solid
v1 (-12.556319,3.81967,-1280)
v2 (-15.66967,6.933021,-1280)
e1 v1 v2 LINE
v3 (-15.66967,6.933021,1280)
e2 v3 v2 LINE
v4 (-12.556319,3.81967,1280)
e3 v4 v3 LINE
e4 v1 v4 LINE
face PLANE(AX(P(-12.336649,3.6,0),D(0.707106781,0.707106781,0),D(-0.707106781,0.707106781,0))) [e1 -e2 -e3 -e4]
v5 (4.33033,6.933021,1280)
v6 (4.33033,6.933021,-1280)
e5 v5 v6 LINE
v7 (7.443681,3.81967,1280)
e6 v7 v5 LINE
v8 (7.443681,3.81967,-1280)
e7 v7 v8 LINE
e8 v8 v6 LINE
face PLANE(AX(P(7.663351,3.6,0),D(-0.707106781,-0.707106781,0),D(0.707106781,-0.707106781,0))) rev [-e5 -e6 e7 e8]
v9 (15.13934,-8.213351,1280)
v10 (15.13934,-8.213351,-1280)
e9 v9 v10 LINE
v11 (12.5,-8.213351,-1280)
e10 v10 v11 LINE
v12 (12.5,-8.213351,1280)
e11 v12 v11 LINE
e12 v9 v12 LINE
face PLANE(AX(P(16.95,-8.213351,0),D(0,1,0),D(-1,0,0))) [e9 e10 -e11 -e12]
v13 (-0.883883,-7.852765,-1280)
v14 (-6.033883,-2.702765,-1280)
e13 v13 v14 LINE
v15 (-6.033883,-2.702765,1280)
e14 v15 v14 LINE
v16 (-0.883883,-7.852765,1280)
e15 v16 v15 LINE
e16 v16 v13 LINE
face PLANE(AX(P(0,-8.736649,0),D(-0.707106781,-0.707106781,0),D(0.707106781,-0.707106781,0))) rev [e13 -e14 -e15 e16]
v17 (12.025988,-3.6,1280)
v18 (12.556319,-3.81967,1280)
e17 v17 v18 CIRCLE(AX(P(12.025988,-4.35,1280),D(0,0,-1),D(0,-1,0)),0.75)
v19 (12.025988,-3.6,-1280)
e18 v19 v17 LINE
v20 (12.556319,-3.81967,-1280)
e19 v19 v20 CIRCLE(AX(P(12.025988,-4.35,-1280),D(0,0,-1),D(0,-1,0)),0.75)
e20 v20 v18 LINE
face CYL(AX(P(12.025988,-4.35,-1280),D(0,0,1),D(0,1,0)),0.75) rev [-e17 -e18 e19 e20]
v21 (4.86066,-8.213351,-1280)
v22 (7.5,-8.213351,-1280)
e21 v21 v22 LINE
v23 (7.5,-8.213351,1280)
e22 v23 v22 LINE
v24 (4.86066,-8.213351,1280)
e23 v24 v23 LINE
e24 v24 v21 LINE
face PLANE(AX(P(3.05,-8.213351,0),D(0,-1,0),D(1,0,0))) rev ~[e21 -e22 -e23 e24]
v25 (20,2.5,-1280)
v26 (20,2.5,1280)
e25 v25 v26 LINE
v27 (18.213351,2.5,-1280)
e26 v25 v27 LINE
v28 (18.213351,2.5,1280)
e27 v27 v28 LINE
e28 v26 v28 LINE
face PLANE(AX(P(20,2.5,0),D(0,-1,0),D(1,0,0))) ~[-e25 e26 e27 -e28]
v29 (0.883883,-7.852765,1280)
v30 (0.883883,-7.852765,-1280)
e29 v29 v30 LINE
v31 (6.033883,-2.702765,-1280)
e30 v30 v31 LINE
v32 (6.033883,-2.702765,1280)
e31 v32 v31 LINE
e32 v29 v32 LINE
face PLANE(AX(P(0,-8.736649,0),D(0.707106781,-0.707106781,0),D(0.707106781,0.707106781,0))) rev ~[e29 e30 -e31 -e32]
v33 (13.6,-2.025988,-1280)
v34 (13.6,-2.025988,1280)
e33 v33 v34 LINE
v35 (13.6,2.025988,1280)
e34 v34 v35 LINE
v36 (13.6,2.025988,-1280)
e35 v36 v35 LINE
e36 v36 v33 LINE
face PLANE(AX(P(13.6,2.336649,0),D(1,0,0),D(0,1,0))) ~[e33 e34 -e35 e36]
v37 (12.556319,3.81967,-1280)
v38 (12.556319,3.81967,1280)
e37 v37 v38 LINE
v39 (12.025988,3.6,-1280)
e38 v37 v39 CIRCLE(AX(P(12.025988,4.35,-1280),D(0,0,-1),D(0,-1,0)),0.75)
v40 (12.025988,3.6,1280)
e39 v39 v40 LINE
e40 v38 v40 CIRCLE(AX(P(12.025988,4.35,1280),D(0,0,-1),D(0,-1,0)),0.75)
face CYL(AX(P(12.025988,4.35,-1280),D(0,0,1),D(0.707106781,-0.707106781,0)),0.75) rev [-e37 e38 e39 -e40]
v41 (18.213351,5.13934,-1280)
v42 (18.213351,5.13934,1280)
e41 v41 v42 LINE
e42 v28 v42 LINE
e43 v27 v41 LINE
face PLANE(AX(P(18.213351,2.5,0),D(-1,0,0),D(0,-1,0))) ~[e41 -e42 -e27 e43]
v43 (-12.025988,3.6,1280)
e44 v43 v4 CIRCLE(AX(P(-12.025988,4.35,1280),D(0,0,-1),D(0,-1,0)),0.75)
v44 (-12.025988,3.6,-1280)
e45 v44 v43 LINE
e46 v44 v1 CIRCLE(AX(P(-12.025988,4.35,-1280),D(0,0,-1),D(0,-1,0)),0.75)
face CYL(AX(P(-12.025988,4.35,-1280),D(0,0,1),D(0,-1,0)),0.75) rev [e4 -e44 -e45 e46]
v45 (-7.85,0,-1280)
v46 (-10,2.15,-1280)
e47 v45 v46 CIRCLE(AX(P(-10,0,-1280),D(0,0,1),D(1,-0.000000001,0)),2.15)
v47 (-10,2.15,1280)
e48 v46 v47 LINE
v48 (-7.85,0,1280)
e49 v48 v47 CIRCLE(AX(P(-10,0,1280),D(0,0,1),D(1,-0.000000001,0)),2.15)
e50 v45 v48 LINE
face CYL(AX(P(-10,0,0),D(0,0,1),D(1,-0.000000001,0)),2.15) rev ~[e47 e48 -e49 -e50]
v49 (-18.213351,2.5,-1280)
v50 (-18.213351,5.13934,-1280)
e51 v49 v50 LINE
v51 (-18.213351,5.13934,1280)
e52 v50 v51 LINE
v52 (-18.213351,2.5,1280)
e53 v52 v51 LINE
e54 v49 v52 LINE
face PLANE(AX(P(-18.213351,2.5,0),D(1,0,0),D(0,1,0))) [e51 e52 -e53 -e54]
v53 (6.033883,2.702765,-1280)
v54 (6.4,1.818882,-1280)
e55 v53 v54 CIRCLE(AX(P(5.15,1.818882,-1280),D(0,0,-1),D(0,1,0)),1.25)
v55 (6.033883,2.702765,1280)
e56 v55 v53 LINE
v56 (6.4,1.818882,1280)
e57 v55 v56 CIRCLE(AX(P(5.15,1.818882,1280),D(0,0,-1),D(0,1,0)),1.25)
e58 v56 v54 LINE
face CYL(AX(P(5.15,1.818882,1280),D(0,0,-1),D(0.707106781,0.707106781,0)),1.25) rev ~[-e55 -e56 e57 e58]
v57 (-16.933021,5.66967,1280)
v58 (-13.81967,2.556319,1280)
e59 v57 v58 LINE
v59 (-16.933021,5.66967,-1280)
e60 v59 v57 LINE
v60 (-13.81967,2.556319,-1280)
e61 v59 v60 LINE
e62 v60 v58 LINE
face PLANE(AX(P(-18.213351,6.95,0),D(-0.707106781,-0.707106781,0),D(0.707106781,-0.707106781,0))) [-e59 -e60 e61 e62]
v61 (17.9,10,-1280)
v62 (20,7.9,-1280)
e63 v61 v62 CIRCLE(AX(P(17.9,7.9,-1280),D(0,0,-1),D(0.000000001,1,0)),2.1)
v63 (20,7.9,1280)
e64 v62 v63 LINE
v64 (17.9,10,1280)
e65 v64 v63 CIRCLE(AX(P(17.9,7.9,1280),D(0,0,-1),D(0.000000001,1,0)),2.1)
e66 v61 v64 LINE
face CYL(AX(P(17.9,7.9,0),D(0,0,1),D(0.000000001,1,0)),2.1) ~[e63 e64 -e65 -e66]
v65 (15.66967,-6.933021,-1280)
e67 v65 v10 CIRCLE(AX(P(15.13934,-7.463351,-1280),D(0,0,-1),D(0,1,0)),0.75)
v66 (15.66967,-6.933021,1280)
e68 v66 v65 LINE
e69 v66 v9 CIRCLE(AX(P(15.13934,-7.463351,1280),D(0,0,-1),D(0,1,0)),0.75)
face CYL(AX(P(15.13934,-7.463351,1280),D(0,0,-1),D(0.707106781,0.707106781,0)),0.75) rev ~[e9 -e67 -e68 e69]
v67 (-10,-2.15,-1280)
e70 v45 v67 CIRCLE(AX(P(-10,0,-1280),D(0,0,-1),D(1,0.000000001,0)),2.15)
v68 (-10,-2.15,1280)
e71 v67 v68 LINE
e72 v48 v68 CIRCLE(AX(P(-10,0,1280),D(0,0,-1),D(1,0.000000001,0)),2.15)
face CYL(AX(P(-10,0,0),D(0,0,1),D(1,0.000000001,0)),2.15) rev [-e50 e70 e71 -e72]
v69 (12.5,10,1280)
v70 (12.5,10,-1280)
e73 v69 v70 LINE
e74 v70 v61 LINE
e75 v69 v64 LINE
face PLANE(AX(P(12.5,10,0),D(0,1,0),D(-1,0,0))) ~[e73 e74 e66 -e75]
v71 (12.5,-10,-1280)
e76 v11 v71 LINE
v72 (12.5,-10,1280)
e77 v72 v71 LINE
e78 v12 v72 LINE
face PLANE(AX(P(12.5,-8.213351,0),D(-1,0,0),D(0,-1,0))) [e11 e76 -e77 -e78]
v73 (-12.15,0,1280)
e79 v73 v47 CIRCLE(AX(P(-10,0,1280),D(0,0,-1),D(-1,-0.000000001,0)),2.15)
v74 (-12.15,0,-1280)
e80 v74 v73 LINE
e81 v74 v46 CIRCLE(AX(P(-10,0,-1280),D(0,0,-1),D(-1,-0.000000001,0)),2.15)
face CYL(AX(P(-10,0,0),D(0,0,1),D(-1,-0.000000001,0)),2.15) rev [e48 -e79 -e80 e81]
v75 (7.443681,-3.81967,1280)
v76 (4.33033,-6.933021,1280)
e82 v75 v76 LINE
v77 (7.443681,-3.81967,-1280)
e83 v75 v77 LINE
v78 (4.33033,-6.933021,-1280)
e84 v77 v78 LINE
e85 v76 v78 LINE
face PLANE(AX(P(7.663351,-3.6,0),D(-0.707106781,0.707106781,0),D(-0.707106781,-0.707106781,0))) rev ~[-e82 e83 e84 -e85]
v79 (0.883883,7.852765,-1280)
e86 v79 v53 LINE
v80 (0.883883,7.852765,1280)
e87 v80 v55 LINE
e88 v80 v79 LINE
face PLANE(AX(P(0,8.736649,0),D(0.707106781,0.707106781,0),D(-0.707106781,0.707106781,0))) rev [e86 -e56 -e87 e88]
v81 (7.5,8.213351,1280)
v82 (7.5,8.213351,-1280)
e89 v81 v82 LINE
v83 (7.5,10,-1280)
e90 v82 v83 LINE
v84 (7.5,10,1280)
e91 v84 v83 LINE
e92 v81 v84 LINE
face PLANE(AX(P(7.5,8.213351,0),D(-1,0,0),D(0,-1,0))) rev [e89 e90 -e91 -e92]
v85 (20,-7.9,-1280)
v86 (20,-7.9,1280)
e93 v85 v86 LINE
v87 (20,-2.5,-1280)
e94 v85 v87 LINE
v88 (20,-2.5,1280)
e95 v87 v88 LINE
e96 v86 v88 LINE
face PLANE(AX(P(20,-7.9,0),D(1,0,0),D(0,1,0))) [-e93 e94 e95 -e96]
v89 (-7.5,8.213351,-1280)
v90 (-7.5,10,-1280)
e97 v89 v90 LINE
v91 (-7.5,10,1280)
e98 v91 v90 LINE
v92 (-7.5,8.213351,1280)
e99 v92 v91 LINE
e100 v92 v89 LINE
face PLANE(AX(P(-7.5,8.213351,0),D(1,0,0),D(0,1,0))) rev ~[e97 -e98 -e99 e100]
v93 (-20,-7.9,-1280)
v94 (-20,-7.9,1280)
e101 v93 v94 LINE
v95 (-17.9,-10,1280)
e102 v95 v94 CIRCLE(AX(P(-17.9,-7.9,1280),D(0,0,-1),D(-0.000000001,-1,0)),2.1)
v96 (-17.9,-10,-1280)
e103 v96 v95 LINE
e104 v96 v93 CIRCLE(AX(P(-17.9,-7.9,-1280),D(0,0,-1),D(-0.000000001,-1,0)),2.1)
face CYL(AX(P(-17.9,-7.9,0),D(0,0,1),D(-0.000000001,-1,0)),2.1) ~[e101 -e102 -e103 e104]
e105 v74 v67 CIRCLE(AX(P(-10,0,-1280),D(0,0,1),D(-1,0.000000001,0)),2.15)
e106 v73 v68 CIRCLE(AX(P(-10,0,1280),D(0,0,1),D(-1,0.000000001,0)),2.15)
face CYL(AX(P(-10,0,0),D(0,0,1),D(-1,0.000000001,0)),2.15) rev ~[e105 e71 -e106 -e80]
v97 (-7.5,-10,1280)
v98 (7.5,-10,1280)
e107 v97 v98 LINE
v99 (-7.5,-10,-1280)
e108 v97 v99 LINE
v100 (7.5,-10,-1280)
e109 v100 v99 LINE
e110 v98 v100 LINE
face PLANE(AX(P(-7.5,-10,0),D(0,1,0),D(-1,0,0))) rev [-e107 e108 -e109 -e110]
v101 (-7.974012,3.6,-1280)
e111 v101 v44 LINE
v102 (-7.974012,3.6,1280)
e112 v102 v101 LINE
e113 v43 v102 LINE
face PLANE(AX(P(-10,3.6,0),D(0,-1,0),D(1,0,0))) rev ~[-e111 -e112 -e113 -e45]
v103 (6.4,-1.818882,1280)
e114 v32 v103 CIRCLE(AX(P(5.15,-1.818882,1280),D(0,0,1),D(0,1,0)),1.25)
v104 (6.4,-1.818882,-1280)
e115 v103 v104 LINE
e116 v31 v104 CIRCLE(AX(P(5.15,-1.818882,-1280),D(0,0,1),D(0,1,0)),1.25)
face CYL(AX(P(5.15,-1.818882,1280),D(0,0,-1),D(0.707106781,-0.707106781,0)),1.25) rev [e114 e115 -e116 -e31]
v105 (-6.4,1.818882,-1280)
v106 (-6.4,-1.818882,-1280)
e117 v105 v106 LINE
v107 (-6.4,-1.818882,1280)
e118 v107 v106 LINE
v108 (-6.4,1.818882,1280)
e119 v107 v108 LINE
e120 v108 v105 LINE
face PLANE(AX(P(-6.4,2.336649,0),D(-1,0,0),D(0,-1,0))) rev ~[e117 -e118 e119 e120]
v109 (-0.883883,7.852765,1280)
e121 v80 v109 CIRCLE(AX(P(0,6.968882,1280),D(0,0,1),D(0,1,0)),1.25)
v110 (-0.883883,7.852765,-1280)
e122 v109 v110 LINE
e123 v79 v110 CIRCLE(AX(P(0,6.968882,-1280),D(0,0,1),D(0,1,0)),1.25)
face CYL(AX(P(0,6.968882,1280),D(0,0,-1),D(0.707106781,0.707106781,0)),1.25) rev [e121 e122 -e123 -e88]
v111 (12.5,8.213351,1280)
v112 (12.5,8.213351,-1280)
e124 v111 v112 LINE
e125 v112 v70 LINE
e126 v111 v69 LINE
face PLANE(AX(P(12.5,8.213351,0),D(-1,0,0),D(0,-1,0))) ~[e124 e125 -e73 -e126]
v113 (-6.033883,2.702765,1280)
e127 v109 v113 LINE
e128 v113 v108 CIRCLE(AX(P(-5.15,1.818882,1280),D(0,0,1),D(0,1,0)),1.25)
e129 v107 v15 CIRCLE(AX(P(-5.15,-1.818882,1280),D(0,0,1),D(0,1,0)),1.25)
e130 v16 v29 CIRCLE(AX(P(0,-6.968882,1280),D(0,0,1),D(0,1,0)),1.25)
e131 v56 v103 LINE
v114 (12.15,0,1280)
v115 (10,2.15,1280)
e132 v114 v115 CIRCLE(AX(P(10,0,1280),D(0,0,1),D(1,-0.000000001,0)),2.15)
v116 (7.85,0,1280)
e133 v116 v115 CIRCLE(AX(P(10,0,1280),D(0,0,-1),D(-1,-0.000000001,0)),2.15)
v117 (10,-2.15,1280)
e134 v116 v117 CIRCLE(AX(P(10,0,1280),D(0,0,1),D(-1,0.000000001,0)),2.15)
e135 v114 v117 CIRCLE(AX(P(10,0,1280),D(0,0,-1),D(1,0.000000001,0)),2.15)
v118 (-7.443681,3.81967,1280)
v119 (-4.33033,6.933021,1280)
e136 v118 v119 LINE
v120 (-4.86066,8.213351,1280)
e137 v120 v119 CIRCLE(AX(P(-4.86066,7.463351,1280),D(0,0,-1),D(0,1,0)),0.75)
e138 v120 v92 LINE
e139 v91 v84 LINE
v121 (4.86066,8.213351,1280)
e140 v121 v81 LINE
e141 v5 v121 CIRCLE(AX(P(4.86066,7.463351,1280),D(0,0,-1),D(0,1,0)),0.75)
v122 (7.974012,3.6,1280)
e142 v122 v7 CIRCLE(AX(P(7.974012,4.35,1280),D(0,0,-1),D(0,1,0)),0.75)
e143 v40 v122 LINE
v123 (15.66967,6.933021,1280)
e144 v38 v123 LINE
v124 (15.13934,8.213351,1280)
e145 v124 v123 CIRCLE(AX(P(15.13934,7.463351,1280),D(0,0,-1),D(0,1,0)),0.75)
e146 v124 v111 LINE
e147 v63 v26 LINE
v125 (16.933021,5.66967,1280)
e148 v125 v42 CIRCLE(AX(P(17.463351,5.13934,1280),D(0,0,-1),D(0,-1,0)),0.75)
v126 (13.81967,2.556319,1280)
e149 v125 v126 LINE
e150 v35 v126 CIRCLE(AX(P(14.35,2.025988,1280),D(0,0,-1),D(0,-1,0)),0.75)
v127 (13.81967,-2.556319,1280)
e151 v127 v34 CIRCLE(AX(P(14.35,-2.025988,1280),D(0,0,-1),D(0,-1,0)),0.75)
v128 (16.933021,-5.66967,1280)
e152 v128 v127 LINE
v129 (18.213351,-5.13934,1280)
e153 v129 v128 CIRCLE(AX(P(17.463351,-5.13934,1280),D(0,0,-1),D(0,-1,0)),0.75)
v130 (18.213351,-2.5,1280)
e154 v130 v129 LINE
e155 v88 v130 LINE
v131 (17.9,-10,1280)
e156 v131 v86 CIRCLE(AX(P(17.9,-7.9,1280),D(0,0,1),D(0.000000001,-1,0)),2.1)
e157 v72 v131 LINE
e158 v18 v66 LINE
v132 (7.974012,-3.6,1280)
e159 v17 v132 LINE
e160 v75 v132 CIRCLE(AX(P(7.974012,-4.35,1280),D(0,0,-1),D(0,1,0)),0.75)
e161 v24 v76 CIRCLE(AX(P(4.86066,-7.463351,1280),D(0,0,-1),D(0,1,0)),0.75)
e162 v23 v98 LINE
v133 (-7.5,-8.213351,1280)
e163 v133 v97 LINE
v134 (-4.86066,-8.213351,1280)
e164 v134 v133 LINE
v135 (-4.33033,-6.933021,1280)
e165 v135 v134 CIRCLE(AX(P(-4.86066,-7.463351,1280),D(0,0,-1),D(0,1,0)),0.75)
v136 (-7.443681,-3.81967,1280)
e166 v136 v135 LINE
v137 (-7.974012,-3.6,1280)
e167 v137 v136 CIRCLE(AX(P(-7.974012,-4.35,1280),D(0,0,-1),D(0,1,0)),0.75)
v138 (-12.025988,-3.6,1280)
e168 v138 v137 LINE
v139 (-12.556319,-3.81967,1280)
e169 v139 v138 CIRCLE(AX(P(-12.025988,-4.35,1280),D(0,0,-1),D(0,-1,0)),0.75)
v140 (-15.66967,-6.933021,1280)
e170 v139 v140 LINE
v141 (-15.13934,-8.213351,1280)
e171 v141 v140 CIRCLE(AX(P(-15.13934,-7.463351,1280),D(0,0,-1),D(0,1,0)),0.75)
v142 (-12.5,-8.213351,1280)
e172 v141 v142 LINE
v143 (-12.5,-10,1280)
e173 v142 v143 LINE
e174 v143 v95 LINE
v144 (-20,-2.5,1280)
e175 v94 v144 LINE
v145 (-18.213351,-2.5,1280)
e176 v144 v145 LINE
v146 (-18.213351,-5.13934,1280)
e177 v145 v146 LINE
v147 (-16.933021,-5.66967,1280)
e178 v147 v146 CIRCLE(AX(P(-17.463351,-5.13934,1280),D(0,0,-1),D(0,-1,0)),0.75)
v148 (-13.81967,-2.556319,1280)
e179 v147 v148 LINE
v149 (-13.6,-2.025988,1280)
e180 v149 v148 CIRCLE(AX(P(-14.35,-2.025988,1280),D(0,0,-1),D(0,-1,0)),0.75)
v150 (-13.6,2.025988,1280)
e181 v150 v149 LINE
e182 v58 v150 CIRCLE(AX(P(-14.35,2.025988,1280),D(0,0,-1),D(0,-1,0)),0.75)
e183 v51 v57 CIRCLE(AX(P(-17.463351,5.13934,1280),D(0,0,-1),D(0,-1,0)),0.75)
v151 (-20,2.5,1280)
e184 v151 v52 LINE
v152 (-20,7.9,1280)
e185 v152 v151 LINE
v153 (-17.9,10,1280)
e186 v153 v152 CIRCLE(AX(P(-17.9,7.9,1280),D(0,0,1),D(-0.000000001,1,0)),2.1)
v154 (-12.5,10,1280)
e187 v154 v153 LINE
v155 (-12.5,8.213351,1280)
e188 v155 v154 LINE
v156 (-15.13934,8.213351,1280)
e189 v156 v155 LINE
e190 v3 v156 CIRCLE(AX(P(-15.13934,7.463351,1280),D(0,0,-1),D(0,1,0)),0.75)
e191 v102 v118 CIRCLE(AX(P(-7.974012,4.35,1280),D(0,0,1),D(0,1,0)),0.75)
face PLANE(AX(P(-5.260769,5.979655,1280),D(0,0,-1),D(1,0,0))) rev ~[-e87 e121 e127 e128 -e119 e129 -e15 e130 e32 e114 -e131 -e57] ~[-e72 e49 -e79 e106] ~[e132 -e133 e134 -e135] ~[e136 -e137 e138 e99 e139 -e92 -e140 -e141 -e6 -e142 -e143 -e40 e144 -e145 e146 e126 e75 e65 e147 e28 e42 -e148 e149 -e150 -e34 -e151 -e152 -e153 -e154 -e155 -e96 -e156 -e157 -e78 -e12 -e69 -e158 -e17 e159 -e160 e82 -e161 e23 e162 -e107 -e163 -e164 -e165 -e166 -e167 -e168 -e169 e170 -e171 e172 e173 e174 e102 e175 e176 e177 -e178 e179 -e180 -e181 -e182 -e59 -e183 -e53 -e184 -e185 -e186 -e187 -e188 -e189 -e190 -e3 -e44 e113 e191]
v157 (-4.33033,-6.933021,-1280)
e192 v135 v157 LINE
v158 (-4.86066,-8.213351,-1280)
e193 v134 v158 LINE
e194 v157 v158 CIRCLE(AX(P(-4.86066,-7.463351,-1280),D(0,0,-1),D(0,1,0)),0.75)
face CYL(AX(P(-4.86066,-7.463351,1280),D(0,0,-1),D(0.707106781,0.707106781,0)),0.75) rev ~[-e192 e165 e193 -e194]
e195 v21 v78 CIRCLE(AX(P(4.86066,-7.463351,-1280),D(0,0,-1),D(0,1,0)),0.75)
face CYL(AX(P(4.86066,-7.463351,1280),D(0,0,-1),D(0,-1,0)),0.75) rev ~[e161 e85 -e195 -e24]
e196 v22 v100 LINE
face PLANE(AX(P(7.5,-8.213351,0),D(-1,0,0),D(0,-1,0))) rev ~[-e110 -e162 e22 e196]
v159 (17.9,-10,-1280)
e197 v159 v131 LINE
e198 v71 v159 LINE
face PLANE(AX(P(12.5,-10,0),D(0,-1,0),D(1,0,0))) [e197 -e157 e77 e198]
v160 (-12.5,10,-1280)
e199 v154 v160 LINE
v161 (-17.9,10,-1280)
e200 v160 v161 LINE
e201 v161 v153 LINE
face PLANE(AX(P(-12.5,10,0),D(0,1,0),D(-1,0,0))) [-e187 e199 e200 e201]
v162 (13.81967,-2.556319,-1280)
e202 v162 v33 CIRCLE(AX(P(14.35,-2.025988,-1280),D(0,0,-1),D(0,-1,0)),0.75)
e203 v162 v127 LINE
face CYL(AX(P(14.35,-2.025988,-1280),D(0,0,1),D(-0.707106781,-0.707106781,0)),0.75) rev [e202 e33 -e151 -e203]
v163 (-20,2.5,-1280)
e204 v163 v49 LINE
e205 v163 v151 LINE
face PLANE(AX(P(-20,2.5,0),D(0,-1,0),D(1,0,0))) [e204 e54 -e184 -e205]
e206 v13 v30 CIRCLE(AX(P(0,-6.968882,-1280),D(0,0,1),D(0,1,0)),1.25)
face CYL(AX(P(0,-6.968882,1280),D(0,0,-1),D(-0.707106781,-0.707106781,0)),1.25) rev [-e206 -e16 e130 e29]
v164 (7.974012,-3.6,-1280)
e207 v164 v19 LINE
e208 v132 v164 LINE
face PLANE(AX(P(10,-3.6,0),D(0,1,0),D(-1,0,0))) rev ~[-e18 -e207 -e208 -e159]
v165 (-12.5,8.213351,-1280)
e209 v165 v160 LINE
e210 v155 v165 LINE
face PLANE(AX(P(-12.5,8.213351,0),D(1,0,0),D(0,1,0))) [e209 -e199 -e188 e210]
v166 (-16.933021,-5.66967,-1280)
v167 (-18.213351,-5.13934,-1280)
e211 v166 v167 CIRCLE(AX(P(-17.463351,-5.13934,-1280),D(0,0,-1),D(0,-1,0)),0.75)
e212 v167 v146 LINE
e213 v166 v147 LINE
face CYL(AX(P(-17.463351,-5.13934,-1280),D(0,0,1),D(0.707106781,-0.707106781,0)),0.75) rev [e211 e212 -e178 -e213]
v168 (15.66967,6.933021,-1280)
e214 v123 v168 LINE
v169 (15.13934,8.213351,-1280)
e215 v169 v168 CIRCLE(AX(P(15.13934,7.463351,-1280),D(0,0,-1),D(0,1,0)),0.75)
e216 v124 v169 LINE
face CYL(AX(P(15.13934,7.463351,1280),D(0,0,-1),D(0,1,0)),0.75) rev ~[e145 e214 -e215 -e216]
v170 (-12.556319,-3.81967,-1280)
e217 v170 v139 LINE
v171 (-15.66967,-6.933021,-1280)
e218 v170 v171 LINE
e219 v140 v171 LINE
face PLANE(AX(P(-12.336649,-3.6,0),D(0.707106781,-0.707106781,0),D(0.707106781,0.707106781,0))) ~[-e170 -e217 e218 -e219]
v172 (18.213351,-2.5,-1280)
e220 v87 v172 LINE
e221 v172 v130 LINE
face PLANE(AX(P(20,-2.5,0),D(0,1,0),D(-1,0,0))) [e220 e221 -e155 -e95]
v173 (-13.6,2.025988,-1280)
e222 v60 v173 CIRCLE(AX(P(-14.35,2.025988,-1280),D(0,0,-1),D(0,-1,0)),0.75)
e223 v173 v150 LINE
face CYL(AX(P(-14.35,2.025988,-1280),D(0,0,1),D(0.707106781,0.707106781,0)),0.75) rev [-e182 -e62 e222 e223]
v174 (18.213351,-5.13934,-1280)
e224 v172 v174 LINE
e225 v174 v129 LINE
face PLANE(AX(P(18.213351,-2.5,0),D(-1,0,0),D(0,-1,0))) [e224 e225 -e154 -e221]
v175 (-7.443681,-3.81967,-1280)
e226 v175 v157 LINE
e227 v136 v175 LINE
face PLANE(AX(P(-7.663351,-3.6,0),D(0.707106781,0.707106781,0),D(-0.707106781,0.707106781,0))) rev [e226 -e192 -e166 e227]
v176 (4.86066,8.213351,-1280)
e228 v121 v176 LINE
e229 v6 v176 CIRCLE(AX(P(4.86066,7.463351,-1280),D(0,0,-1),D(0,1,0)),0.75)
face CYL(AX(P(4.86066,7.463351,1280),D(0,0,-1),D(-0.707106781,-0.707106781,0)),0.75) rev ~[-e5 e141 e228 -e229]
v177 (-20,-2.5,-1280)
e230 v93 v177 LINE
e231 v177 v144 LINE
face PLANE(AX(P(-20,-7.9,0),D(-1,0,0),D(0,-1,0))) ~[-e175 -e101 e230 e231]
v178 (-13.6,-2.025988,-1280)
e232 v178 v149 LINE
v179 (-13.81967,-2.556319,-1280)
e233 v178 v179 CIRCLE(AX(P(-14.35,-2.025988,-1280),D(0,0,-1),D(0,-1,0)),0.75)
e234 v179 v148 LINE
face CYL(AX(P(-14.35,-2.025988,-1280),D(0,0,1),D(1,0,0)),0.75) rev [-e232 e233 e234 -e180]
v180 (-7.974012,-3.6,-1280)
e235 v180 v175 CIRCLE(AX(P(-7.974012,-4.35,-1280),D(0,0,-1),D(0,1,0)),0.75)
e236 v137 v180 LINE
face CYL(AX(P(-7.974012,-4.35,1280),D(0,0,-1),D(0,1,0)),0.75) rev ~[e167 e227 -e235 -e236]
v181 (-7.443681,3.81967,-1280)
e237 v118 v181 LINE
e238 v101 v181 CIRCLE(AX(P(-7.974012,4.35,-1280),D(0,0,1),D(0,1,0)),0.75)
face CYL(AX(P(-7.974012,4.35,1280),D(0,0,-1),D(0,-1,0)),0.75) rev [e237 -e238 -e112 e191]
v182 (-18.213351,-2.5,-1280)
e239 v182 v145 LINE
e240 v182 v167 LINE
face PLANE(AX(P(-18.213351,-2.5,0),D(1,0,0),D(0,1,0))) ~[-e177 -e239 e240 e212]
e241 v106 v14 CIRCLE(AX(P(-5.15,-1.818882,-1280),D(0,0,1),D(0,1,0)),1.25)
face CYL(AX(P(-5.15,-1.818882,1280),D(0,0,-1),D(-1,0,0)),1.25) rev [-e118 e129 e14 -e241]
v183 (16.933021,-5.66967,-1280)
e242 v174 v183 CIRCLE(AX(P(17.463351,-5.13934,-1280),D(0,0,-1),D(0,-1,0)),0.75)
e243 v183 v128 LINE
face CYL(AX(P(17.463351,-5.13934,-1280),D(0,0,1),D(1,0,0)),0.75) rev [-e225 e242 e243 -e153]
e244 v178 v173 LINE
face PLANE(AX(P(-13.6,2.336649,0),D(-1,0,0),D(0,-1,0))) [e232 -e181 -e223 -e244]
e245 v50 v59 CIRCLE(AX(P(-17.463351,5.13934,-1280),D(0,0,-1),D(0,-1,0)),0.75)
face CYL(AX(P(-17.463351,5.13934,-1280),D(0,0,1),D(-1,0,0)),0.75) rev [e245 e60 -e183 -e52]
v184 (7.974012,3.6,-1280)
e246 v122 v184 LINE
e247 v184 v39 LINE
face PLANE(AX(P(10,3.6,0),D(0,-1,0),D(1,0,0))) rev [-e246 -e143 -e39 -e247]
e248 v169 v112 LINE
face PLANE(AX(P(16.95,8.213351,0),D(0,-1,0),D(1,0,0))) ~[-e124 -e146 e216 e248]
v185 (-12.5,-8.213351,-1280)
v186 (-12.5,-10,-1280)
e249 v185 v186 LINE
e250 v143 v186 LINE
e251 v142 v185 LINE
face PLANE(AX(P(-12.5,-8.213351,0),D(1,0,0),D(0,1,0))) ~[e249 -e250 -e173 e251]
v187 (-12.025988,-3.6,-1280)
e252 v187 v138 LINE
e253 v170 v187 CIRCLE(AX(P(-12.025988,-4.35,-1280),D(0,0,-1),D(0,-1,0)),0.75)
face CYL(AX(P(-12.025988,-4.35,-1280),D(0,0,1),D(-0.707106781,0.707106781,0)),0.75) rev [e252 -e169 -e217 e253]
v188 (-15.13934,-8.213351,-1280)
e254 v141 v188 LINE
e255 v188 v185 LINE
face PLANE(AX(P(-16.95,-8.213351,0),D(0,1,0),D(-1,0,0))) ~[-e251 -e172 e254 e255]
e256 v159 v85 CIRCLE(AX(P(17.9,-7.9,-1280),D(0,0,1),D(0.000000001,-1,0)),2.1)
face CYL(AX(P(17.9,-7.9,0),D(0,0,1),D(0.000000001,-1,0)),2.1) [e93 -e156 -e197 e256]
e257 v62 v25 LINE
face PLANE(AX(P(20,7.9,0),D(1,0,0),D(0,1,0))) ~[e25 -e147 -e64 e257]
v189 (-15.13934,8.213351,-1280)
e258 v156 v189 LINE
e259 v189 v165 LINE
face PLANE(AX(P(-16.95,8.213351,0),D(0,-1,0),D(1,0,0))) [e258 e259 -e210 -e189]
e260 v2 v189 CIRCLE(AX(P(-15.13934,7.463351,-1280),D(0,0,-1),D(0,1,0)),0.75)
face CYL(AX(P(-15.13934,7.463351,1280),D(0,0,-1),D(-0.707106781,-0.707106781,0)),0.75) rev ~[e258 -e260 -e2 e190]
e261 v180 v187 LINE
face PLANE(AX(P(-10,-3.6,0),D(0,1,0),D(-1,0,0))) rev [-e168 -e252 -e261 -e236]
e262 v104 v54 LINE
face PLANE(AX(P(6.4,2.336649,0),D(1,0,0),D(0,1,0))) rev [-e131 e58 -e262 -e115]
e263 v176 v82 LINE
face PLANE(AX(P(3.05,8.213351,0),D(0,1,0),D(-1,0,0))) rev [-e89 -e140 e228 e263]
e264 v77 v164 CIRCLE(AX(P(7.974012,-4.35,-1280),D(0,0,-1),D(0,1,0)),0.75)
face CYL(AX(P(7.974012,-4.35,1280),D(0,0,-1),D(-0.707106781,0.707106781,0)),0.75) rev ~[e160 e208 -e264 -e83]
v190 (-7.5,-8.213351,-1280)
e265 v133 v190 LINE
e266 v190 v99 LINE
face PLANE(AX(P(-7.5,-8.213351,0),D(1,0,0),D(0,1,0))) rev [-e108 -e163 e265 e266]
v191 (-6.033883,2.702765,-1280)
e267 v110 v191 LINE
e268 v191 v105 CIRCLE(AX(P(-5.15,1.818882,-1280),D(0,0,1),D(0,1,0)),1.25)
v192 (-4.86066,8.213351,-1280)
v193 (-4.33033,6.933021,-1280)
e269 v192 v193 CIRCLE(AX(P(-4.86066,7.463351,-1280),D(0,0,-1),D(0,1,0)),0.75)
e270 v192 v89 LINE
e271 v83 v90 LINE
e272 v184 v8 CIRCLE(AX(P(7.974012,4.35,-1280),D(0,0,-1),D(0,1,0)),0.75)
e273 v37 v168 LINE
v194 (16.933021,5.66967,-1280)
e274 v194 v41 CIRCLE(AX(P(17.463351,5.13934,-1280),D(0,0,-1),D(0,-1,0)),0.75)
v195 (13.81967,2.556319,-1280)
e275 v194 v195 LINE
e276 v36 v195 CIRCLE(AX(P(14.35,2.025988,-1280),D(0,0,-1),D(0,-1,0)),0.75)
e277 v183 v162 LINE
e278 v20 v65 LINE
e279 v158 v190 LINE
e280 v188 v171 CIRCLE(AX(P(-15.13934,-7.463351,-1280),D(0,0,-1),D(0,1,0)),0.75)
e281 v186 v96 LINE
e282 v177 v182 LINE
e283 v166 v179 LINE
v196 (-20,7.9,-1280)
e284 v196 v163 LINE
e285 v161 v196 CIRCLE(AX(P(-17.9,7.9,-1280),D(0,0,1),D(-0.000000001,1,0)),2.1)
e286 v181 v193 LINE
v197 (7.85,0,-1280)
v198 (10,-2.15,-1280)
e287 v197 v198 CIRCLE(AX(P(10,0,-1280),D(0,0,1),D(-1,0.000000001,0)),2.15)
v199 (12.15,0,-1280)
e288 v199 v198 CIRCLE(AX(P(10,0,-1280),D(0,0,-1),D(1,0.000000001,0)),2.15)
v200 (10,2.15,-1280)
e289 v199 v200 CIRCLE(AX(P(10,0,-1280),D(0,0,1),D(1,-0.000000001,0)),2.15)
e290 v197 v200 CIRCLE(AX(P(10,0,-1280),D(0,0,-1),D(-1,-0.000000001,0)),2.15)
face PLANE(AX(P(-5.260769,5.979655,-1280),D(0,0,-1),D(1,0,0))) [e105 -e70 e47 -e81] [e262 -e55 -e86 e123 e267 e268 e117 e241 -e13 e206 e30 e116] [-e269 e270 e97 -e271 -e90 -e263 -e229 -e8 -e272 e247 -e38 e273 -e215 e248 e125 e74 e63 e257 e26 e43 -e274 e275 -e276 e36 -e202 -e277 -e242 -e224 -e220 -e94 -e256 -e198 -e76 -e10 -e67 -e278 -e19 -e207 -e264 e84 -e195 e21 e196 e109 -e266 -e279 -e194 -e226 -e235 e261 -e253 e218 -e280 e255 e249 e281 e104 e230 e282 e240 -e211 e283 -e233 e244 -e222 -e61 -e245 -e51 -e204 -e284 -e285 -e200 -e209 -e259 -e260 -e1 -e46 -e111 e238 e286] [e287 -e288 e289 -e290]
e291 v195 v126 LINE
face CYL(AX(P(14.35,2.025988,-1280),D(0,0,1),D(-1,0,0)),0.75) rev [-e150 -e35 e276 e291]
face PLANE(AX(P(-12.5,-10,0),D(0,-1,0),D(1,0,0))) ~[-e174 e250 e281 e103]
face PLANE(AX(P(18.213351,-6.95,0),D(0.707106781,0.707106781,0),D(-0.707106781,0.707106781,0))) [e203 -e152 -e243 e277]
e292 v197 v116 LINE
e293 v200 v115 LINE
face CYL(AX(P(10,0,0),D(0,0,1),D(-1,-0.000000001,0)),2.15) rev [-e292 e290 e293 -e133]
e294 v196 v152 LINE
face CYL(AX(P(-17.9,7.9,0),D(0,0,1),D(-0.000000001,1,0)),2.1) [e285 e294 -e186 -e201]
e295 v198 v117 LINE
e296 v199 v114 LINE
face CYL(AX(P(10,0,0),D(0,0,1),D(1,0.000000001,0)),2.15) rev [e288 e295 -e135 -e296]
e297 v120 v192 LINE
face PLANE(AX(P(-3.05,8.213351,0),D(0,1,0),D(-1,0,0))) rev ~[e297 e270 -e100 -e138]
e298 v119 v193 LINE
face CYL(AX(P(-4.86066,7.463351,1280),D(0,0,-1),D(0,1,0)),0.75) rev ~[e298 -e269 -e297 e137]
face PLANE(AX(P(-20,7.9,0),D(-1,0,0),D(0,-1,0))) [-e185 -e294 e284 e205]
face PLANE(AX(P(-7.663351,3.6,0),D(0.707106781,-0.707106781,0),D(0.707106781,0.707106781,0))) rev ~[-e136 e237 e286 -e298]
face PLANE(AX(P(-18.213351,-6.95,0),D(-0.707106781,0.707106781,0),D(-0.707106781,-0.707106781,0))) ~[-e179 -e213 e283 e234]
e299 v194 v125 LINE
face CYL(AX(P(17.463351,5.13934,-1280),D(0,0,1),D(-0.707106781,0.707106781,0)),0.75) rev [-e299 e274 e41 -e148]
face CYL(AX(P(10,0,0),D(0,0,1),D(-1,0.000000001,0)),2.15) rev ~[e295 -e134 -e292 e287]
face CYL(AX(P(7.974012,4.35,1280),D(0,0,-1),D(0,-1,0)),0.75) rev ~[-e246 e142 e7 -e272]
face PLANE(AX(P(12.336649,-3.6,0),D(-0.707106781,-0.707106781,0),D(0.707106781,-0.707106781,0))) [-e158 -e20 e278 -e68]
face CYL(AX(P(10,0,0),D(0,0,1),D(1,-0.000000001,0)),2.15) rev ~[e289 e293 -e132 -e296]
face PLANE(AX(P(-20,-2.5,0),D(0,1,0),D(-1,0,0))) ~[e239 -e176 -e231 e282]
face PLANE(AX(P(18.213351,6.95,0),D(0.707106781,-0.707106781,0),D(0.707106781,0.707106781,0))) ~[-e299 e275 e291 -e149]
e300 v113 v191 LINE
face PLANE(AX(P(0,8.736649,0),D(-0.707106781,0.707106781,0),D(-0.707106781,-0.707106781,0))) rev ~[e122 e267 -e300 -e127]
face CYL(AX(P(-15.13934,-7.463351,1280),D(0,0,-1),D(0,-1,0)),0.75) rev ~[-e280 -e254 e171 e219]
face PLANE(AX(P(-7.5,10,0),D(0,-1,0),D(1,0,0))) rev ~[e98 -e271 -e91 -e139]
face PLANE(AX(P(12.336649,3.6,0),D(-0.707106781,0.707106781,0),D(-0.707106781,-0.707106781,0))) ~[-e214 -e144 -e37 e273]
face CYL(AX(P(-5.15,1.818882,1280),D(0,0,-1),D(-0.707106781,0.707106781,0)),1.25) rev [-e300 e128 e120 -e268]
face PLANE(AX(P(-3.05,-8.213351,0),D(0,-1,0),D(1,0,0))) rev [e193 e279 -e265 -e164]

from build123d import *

# Parameters (mm, degrees)
BOSS_EXTRUDE1_DEPTH = 1280
BOSS_EXTRUDE2_DEPTH = 1280
FILLET1_R           = 0.75
FILLET2_R           = 1.25


with BuildPart() as part:
    # Sketch3 → Boss-Extrude1 (new, symmetric)
    with BuildSketch(Plane.XY):
        with BuildLine():
            Line((12.5, -10), (17.9, -10))
            ThreePointArc((17.9, -10), (19.38492424, -9.38492424), (20, -7.9))
            Line((20, -7.9), (20, -2.5))
            Line((20, -2.5), (18.213351365, -2.5))
            Line((18.213351365, -2.5), (18.213351365, -6.95))
            Line((18.213351365, -6.95), (13.6, -2.336648635))
            Line((13.6, -2.336648635), (13.6, 0))
            Line((13.6, 0), (12.15, 0))
            ThreePointArc((12.15, 0), (11.52027958, -1.52027958), (10, -2.15))
            Line((10, -2.15), (10, -3.6))
            Line((10, -3.6), (12.336648635, -3.6))
            Line((12.336648635, -3.6), (16.95, -8.213351365))
            Line((16.95, -8.213351365), (12.5, -8.213351365))
            Line((12.5, -8.213351365), (12.5, -10))
        make_face()
    extrude(amount=BOSS_EXTRUDE1_DEPTH, both=True)

    # Sketch4 → Boss-Extrude2 (add, symmetric)
    with BuildSketch(Plane.XY):
        with BuildLine():
            Line((10, -3.6), (7.663351365, -3.6))
            Line((7.663351365, -3.6), (3.05, -8.213351365))
            Line((3.05, -8.213351365), (7.5, -8.213351365))
            Line((7.5, -8.213351365), (7.5, -10))
            Line((7.5, -10), (0, -10))
            Line((0, -10), (0, -8.736648635))
            Line((0, -8.736648635), (6.4, -2.336648635))
            Line((6.4, -2.336648635), (6.4, 0))
            Line((6.4, 0), (7.85, 0))
            ThreePointArc((7.85, 0), (8.47972042, -1.52027958), (10, -2.15))
            Line((10, -2.15), (10, -3.6))
        make_face()
    extrude(amount=BOSS_EXTRUDE2_DEPTH, both=True)

    # Mirror1: part across plane


with BuildPart() as part_1:
    add(part.part)
    add(part.part.mirror(Plane(origin=(0, 0, 0), x_dir=(0, 0, 1), z_dir=(1, 0, 0))))

    # Mirror2: part across plane


with BuildPart() as part_2:
    add(part_1.part)
    add(part_1.part.mirror(Plane.ZX))

    # Fillet1
    fillet1_edges = [part_2.edges().sort_by_distance(p)[0] for p in [
        (18.213351365, 6.95, 0),
        (13.6, 2.336648635, 0),
        (12.336648635, 3.6, 0),
        (16.95, 8.213351365, 0),
        (3.05, 8.213351365, 0),
        (7.663351365, 3.6, 0),
        (-18.213351365, 6.95, 0),
        (-13.6, 2.336648635, 0),
        (-7.663351365, 3.6, 0),
        (-12.336648635, 3.6, 0),
        (-16.95, 8.213351365, 0),
        (-3.05, 8.213351365, 0),
        (16.95, -8.213351365, 0),
        (12.336648635, -3.6, 0),
        (13.6, -2.336648635, 0),
        (18.213351365, -6.95, 0),
        (3.05, -8.213351365, 0),
        (7.663351365, -3.6, 0),
        (-18.213351365, -6.95, 0),
        (-13.6, -2.336648635, 0),
        (-12.336648635, -3.6, 0),
        (-16.95, -8.213351365, 0),
        (-3.05, -8.213351365, 0),
        (-7.663351365, -3.6, 0),
    ]]
    fillet(fillet1_edges, radius=FILLET1_R)

    # Fillet2
    fillet2_edges = [part_2.edges().sort_by_distance(p)[0] for p in [
        (6.4, 2.336648635, 0),
        (0, 8.736648635, 0),
        (-6.4, 2.336648635, 0),
        (6.4, -2.336648635, 0),
        (-6.4, -2.336648635, 0),
        (0, -8.736648635, 0),
    ]]
    fillet(fillet2_edges, radius=FILLET2_R)


solid = part_2.part
